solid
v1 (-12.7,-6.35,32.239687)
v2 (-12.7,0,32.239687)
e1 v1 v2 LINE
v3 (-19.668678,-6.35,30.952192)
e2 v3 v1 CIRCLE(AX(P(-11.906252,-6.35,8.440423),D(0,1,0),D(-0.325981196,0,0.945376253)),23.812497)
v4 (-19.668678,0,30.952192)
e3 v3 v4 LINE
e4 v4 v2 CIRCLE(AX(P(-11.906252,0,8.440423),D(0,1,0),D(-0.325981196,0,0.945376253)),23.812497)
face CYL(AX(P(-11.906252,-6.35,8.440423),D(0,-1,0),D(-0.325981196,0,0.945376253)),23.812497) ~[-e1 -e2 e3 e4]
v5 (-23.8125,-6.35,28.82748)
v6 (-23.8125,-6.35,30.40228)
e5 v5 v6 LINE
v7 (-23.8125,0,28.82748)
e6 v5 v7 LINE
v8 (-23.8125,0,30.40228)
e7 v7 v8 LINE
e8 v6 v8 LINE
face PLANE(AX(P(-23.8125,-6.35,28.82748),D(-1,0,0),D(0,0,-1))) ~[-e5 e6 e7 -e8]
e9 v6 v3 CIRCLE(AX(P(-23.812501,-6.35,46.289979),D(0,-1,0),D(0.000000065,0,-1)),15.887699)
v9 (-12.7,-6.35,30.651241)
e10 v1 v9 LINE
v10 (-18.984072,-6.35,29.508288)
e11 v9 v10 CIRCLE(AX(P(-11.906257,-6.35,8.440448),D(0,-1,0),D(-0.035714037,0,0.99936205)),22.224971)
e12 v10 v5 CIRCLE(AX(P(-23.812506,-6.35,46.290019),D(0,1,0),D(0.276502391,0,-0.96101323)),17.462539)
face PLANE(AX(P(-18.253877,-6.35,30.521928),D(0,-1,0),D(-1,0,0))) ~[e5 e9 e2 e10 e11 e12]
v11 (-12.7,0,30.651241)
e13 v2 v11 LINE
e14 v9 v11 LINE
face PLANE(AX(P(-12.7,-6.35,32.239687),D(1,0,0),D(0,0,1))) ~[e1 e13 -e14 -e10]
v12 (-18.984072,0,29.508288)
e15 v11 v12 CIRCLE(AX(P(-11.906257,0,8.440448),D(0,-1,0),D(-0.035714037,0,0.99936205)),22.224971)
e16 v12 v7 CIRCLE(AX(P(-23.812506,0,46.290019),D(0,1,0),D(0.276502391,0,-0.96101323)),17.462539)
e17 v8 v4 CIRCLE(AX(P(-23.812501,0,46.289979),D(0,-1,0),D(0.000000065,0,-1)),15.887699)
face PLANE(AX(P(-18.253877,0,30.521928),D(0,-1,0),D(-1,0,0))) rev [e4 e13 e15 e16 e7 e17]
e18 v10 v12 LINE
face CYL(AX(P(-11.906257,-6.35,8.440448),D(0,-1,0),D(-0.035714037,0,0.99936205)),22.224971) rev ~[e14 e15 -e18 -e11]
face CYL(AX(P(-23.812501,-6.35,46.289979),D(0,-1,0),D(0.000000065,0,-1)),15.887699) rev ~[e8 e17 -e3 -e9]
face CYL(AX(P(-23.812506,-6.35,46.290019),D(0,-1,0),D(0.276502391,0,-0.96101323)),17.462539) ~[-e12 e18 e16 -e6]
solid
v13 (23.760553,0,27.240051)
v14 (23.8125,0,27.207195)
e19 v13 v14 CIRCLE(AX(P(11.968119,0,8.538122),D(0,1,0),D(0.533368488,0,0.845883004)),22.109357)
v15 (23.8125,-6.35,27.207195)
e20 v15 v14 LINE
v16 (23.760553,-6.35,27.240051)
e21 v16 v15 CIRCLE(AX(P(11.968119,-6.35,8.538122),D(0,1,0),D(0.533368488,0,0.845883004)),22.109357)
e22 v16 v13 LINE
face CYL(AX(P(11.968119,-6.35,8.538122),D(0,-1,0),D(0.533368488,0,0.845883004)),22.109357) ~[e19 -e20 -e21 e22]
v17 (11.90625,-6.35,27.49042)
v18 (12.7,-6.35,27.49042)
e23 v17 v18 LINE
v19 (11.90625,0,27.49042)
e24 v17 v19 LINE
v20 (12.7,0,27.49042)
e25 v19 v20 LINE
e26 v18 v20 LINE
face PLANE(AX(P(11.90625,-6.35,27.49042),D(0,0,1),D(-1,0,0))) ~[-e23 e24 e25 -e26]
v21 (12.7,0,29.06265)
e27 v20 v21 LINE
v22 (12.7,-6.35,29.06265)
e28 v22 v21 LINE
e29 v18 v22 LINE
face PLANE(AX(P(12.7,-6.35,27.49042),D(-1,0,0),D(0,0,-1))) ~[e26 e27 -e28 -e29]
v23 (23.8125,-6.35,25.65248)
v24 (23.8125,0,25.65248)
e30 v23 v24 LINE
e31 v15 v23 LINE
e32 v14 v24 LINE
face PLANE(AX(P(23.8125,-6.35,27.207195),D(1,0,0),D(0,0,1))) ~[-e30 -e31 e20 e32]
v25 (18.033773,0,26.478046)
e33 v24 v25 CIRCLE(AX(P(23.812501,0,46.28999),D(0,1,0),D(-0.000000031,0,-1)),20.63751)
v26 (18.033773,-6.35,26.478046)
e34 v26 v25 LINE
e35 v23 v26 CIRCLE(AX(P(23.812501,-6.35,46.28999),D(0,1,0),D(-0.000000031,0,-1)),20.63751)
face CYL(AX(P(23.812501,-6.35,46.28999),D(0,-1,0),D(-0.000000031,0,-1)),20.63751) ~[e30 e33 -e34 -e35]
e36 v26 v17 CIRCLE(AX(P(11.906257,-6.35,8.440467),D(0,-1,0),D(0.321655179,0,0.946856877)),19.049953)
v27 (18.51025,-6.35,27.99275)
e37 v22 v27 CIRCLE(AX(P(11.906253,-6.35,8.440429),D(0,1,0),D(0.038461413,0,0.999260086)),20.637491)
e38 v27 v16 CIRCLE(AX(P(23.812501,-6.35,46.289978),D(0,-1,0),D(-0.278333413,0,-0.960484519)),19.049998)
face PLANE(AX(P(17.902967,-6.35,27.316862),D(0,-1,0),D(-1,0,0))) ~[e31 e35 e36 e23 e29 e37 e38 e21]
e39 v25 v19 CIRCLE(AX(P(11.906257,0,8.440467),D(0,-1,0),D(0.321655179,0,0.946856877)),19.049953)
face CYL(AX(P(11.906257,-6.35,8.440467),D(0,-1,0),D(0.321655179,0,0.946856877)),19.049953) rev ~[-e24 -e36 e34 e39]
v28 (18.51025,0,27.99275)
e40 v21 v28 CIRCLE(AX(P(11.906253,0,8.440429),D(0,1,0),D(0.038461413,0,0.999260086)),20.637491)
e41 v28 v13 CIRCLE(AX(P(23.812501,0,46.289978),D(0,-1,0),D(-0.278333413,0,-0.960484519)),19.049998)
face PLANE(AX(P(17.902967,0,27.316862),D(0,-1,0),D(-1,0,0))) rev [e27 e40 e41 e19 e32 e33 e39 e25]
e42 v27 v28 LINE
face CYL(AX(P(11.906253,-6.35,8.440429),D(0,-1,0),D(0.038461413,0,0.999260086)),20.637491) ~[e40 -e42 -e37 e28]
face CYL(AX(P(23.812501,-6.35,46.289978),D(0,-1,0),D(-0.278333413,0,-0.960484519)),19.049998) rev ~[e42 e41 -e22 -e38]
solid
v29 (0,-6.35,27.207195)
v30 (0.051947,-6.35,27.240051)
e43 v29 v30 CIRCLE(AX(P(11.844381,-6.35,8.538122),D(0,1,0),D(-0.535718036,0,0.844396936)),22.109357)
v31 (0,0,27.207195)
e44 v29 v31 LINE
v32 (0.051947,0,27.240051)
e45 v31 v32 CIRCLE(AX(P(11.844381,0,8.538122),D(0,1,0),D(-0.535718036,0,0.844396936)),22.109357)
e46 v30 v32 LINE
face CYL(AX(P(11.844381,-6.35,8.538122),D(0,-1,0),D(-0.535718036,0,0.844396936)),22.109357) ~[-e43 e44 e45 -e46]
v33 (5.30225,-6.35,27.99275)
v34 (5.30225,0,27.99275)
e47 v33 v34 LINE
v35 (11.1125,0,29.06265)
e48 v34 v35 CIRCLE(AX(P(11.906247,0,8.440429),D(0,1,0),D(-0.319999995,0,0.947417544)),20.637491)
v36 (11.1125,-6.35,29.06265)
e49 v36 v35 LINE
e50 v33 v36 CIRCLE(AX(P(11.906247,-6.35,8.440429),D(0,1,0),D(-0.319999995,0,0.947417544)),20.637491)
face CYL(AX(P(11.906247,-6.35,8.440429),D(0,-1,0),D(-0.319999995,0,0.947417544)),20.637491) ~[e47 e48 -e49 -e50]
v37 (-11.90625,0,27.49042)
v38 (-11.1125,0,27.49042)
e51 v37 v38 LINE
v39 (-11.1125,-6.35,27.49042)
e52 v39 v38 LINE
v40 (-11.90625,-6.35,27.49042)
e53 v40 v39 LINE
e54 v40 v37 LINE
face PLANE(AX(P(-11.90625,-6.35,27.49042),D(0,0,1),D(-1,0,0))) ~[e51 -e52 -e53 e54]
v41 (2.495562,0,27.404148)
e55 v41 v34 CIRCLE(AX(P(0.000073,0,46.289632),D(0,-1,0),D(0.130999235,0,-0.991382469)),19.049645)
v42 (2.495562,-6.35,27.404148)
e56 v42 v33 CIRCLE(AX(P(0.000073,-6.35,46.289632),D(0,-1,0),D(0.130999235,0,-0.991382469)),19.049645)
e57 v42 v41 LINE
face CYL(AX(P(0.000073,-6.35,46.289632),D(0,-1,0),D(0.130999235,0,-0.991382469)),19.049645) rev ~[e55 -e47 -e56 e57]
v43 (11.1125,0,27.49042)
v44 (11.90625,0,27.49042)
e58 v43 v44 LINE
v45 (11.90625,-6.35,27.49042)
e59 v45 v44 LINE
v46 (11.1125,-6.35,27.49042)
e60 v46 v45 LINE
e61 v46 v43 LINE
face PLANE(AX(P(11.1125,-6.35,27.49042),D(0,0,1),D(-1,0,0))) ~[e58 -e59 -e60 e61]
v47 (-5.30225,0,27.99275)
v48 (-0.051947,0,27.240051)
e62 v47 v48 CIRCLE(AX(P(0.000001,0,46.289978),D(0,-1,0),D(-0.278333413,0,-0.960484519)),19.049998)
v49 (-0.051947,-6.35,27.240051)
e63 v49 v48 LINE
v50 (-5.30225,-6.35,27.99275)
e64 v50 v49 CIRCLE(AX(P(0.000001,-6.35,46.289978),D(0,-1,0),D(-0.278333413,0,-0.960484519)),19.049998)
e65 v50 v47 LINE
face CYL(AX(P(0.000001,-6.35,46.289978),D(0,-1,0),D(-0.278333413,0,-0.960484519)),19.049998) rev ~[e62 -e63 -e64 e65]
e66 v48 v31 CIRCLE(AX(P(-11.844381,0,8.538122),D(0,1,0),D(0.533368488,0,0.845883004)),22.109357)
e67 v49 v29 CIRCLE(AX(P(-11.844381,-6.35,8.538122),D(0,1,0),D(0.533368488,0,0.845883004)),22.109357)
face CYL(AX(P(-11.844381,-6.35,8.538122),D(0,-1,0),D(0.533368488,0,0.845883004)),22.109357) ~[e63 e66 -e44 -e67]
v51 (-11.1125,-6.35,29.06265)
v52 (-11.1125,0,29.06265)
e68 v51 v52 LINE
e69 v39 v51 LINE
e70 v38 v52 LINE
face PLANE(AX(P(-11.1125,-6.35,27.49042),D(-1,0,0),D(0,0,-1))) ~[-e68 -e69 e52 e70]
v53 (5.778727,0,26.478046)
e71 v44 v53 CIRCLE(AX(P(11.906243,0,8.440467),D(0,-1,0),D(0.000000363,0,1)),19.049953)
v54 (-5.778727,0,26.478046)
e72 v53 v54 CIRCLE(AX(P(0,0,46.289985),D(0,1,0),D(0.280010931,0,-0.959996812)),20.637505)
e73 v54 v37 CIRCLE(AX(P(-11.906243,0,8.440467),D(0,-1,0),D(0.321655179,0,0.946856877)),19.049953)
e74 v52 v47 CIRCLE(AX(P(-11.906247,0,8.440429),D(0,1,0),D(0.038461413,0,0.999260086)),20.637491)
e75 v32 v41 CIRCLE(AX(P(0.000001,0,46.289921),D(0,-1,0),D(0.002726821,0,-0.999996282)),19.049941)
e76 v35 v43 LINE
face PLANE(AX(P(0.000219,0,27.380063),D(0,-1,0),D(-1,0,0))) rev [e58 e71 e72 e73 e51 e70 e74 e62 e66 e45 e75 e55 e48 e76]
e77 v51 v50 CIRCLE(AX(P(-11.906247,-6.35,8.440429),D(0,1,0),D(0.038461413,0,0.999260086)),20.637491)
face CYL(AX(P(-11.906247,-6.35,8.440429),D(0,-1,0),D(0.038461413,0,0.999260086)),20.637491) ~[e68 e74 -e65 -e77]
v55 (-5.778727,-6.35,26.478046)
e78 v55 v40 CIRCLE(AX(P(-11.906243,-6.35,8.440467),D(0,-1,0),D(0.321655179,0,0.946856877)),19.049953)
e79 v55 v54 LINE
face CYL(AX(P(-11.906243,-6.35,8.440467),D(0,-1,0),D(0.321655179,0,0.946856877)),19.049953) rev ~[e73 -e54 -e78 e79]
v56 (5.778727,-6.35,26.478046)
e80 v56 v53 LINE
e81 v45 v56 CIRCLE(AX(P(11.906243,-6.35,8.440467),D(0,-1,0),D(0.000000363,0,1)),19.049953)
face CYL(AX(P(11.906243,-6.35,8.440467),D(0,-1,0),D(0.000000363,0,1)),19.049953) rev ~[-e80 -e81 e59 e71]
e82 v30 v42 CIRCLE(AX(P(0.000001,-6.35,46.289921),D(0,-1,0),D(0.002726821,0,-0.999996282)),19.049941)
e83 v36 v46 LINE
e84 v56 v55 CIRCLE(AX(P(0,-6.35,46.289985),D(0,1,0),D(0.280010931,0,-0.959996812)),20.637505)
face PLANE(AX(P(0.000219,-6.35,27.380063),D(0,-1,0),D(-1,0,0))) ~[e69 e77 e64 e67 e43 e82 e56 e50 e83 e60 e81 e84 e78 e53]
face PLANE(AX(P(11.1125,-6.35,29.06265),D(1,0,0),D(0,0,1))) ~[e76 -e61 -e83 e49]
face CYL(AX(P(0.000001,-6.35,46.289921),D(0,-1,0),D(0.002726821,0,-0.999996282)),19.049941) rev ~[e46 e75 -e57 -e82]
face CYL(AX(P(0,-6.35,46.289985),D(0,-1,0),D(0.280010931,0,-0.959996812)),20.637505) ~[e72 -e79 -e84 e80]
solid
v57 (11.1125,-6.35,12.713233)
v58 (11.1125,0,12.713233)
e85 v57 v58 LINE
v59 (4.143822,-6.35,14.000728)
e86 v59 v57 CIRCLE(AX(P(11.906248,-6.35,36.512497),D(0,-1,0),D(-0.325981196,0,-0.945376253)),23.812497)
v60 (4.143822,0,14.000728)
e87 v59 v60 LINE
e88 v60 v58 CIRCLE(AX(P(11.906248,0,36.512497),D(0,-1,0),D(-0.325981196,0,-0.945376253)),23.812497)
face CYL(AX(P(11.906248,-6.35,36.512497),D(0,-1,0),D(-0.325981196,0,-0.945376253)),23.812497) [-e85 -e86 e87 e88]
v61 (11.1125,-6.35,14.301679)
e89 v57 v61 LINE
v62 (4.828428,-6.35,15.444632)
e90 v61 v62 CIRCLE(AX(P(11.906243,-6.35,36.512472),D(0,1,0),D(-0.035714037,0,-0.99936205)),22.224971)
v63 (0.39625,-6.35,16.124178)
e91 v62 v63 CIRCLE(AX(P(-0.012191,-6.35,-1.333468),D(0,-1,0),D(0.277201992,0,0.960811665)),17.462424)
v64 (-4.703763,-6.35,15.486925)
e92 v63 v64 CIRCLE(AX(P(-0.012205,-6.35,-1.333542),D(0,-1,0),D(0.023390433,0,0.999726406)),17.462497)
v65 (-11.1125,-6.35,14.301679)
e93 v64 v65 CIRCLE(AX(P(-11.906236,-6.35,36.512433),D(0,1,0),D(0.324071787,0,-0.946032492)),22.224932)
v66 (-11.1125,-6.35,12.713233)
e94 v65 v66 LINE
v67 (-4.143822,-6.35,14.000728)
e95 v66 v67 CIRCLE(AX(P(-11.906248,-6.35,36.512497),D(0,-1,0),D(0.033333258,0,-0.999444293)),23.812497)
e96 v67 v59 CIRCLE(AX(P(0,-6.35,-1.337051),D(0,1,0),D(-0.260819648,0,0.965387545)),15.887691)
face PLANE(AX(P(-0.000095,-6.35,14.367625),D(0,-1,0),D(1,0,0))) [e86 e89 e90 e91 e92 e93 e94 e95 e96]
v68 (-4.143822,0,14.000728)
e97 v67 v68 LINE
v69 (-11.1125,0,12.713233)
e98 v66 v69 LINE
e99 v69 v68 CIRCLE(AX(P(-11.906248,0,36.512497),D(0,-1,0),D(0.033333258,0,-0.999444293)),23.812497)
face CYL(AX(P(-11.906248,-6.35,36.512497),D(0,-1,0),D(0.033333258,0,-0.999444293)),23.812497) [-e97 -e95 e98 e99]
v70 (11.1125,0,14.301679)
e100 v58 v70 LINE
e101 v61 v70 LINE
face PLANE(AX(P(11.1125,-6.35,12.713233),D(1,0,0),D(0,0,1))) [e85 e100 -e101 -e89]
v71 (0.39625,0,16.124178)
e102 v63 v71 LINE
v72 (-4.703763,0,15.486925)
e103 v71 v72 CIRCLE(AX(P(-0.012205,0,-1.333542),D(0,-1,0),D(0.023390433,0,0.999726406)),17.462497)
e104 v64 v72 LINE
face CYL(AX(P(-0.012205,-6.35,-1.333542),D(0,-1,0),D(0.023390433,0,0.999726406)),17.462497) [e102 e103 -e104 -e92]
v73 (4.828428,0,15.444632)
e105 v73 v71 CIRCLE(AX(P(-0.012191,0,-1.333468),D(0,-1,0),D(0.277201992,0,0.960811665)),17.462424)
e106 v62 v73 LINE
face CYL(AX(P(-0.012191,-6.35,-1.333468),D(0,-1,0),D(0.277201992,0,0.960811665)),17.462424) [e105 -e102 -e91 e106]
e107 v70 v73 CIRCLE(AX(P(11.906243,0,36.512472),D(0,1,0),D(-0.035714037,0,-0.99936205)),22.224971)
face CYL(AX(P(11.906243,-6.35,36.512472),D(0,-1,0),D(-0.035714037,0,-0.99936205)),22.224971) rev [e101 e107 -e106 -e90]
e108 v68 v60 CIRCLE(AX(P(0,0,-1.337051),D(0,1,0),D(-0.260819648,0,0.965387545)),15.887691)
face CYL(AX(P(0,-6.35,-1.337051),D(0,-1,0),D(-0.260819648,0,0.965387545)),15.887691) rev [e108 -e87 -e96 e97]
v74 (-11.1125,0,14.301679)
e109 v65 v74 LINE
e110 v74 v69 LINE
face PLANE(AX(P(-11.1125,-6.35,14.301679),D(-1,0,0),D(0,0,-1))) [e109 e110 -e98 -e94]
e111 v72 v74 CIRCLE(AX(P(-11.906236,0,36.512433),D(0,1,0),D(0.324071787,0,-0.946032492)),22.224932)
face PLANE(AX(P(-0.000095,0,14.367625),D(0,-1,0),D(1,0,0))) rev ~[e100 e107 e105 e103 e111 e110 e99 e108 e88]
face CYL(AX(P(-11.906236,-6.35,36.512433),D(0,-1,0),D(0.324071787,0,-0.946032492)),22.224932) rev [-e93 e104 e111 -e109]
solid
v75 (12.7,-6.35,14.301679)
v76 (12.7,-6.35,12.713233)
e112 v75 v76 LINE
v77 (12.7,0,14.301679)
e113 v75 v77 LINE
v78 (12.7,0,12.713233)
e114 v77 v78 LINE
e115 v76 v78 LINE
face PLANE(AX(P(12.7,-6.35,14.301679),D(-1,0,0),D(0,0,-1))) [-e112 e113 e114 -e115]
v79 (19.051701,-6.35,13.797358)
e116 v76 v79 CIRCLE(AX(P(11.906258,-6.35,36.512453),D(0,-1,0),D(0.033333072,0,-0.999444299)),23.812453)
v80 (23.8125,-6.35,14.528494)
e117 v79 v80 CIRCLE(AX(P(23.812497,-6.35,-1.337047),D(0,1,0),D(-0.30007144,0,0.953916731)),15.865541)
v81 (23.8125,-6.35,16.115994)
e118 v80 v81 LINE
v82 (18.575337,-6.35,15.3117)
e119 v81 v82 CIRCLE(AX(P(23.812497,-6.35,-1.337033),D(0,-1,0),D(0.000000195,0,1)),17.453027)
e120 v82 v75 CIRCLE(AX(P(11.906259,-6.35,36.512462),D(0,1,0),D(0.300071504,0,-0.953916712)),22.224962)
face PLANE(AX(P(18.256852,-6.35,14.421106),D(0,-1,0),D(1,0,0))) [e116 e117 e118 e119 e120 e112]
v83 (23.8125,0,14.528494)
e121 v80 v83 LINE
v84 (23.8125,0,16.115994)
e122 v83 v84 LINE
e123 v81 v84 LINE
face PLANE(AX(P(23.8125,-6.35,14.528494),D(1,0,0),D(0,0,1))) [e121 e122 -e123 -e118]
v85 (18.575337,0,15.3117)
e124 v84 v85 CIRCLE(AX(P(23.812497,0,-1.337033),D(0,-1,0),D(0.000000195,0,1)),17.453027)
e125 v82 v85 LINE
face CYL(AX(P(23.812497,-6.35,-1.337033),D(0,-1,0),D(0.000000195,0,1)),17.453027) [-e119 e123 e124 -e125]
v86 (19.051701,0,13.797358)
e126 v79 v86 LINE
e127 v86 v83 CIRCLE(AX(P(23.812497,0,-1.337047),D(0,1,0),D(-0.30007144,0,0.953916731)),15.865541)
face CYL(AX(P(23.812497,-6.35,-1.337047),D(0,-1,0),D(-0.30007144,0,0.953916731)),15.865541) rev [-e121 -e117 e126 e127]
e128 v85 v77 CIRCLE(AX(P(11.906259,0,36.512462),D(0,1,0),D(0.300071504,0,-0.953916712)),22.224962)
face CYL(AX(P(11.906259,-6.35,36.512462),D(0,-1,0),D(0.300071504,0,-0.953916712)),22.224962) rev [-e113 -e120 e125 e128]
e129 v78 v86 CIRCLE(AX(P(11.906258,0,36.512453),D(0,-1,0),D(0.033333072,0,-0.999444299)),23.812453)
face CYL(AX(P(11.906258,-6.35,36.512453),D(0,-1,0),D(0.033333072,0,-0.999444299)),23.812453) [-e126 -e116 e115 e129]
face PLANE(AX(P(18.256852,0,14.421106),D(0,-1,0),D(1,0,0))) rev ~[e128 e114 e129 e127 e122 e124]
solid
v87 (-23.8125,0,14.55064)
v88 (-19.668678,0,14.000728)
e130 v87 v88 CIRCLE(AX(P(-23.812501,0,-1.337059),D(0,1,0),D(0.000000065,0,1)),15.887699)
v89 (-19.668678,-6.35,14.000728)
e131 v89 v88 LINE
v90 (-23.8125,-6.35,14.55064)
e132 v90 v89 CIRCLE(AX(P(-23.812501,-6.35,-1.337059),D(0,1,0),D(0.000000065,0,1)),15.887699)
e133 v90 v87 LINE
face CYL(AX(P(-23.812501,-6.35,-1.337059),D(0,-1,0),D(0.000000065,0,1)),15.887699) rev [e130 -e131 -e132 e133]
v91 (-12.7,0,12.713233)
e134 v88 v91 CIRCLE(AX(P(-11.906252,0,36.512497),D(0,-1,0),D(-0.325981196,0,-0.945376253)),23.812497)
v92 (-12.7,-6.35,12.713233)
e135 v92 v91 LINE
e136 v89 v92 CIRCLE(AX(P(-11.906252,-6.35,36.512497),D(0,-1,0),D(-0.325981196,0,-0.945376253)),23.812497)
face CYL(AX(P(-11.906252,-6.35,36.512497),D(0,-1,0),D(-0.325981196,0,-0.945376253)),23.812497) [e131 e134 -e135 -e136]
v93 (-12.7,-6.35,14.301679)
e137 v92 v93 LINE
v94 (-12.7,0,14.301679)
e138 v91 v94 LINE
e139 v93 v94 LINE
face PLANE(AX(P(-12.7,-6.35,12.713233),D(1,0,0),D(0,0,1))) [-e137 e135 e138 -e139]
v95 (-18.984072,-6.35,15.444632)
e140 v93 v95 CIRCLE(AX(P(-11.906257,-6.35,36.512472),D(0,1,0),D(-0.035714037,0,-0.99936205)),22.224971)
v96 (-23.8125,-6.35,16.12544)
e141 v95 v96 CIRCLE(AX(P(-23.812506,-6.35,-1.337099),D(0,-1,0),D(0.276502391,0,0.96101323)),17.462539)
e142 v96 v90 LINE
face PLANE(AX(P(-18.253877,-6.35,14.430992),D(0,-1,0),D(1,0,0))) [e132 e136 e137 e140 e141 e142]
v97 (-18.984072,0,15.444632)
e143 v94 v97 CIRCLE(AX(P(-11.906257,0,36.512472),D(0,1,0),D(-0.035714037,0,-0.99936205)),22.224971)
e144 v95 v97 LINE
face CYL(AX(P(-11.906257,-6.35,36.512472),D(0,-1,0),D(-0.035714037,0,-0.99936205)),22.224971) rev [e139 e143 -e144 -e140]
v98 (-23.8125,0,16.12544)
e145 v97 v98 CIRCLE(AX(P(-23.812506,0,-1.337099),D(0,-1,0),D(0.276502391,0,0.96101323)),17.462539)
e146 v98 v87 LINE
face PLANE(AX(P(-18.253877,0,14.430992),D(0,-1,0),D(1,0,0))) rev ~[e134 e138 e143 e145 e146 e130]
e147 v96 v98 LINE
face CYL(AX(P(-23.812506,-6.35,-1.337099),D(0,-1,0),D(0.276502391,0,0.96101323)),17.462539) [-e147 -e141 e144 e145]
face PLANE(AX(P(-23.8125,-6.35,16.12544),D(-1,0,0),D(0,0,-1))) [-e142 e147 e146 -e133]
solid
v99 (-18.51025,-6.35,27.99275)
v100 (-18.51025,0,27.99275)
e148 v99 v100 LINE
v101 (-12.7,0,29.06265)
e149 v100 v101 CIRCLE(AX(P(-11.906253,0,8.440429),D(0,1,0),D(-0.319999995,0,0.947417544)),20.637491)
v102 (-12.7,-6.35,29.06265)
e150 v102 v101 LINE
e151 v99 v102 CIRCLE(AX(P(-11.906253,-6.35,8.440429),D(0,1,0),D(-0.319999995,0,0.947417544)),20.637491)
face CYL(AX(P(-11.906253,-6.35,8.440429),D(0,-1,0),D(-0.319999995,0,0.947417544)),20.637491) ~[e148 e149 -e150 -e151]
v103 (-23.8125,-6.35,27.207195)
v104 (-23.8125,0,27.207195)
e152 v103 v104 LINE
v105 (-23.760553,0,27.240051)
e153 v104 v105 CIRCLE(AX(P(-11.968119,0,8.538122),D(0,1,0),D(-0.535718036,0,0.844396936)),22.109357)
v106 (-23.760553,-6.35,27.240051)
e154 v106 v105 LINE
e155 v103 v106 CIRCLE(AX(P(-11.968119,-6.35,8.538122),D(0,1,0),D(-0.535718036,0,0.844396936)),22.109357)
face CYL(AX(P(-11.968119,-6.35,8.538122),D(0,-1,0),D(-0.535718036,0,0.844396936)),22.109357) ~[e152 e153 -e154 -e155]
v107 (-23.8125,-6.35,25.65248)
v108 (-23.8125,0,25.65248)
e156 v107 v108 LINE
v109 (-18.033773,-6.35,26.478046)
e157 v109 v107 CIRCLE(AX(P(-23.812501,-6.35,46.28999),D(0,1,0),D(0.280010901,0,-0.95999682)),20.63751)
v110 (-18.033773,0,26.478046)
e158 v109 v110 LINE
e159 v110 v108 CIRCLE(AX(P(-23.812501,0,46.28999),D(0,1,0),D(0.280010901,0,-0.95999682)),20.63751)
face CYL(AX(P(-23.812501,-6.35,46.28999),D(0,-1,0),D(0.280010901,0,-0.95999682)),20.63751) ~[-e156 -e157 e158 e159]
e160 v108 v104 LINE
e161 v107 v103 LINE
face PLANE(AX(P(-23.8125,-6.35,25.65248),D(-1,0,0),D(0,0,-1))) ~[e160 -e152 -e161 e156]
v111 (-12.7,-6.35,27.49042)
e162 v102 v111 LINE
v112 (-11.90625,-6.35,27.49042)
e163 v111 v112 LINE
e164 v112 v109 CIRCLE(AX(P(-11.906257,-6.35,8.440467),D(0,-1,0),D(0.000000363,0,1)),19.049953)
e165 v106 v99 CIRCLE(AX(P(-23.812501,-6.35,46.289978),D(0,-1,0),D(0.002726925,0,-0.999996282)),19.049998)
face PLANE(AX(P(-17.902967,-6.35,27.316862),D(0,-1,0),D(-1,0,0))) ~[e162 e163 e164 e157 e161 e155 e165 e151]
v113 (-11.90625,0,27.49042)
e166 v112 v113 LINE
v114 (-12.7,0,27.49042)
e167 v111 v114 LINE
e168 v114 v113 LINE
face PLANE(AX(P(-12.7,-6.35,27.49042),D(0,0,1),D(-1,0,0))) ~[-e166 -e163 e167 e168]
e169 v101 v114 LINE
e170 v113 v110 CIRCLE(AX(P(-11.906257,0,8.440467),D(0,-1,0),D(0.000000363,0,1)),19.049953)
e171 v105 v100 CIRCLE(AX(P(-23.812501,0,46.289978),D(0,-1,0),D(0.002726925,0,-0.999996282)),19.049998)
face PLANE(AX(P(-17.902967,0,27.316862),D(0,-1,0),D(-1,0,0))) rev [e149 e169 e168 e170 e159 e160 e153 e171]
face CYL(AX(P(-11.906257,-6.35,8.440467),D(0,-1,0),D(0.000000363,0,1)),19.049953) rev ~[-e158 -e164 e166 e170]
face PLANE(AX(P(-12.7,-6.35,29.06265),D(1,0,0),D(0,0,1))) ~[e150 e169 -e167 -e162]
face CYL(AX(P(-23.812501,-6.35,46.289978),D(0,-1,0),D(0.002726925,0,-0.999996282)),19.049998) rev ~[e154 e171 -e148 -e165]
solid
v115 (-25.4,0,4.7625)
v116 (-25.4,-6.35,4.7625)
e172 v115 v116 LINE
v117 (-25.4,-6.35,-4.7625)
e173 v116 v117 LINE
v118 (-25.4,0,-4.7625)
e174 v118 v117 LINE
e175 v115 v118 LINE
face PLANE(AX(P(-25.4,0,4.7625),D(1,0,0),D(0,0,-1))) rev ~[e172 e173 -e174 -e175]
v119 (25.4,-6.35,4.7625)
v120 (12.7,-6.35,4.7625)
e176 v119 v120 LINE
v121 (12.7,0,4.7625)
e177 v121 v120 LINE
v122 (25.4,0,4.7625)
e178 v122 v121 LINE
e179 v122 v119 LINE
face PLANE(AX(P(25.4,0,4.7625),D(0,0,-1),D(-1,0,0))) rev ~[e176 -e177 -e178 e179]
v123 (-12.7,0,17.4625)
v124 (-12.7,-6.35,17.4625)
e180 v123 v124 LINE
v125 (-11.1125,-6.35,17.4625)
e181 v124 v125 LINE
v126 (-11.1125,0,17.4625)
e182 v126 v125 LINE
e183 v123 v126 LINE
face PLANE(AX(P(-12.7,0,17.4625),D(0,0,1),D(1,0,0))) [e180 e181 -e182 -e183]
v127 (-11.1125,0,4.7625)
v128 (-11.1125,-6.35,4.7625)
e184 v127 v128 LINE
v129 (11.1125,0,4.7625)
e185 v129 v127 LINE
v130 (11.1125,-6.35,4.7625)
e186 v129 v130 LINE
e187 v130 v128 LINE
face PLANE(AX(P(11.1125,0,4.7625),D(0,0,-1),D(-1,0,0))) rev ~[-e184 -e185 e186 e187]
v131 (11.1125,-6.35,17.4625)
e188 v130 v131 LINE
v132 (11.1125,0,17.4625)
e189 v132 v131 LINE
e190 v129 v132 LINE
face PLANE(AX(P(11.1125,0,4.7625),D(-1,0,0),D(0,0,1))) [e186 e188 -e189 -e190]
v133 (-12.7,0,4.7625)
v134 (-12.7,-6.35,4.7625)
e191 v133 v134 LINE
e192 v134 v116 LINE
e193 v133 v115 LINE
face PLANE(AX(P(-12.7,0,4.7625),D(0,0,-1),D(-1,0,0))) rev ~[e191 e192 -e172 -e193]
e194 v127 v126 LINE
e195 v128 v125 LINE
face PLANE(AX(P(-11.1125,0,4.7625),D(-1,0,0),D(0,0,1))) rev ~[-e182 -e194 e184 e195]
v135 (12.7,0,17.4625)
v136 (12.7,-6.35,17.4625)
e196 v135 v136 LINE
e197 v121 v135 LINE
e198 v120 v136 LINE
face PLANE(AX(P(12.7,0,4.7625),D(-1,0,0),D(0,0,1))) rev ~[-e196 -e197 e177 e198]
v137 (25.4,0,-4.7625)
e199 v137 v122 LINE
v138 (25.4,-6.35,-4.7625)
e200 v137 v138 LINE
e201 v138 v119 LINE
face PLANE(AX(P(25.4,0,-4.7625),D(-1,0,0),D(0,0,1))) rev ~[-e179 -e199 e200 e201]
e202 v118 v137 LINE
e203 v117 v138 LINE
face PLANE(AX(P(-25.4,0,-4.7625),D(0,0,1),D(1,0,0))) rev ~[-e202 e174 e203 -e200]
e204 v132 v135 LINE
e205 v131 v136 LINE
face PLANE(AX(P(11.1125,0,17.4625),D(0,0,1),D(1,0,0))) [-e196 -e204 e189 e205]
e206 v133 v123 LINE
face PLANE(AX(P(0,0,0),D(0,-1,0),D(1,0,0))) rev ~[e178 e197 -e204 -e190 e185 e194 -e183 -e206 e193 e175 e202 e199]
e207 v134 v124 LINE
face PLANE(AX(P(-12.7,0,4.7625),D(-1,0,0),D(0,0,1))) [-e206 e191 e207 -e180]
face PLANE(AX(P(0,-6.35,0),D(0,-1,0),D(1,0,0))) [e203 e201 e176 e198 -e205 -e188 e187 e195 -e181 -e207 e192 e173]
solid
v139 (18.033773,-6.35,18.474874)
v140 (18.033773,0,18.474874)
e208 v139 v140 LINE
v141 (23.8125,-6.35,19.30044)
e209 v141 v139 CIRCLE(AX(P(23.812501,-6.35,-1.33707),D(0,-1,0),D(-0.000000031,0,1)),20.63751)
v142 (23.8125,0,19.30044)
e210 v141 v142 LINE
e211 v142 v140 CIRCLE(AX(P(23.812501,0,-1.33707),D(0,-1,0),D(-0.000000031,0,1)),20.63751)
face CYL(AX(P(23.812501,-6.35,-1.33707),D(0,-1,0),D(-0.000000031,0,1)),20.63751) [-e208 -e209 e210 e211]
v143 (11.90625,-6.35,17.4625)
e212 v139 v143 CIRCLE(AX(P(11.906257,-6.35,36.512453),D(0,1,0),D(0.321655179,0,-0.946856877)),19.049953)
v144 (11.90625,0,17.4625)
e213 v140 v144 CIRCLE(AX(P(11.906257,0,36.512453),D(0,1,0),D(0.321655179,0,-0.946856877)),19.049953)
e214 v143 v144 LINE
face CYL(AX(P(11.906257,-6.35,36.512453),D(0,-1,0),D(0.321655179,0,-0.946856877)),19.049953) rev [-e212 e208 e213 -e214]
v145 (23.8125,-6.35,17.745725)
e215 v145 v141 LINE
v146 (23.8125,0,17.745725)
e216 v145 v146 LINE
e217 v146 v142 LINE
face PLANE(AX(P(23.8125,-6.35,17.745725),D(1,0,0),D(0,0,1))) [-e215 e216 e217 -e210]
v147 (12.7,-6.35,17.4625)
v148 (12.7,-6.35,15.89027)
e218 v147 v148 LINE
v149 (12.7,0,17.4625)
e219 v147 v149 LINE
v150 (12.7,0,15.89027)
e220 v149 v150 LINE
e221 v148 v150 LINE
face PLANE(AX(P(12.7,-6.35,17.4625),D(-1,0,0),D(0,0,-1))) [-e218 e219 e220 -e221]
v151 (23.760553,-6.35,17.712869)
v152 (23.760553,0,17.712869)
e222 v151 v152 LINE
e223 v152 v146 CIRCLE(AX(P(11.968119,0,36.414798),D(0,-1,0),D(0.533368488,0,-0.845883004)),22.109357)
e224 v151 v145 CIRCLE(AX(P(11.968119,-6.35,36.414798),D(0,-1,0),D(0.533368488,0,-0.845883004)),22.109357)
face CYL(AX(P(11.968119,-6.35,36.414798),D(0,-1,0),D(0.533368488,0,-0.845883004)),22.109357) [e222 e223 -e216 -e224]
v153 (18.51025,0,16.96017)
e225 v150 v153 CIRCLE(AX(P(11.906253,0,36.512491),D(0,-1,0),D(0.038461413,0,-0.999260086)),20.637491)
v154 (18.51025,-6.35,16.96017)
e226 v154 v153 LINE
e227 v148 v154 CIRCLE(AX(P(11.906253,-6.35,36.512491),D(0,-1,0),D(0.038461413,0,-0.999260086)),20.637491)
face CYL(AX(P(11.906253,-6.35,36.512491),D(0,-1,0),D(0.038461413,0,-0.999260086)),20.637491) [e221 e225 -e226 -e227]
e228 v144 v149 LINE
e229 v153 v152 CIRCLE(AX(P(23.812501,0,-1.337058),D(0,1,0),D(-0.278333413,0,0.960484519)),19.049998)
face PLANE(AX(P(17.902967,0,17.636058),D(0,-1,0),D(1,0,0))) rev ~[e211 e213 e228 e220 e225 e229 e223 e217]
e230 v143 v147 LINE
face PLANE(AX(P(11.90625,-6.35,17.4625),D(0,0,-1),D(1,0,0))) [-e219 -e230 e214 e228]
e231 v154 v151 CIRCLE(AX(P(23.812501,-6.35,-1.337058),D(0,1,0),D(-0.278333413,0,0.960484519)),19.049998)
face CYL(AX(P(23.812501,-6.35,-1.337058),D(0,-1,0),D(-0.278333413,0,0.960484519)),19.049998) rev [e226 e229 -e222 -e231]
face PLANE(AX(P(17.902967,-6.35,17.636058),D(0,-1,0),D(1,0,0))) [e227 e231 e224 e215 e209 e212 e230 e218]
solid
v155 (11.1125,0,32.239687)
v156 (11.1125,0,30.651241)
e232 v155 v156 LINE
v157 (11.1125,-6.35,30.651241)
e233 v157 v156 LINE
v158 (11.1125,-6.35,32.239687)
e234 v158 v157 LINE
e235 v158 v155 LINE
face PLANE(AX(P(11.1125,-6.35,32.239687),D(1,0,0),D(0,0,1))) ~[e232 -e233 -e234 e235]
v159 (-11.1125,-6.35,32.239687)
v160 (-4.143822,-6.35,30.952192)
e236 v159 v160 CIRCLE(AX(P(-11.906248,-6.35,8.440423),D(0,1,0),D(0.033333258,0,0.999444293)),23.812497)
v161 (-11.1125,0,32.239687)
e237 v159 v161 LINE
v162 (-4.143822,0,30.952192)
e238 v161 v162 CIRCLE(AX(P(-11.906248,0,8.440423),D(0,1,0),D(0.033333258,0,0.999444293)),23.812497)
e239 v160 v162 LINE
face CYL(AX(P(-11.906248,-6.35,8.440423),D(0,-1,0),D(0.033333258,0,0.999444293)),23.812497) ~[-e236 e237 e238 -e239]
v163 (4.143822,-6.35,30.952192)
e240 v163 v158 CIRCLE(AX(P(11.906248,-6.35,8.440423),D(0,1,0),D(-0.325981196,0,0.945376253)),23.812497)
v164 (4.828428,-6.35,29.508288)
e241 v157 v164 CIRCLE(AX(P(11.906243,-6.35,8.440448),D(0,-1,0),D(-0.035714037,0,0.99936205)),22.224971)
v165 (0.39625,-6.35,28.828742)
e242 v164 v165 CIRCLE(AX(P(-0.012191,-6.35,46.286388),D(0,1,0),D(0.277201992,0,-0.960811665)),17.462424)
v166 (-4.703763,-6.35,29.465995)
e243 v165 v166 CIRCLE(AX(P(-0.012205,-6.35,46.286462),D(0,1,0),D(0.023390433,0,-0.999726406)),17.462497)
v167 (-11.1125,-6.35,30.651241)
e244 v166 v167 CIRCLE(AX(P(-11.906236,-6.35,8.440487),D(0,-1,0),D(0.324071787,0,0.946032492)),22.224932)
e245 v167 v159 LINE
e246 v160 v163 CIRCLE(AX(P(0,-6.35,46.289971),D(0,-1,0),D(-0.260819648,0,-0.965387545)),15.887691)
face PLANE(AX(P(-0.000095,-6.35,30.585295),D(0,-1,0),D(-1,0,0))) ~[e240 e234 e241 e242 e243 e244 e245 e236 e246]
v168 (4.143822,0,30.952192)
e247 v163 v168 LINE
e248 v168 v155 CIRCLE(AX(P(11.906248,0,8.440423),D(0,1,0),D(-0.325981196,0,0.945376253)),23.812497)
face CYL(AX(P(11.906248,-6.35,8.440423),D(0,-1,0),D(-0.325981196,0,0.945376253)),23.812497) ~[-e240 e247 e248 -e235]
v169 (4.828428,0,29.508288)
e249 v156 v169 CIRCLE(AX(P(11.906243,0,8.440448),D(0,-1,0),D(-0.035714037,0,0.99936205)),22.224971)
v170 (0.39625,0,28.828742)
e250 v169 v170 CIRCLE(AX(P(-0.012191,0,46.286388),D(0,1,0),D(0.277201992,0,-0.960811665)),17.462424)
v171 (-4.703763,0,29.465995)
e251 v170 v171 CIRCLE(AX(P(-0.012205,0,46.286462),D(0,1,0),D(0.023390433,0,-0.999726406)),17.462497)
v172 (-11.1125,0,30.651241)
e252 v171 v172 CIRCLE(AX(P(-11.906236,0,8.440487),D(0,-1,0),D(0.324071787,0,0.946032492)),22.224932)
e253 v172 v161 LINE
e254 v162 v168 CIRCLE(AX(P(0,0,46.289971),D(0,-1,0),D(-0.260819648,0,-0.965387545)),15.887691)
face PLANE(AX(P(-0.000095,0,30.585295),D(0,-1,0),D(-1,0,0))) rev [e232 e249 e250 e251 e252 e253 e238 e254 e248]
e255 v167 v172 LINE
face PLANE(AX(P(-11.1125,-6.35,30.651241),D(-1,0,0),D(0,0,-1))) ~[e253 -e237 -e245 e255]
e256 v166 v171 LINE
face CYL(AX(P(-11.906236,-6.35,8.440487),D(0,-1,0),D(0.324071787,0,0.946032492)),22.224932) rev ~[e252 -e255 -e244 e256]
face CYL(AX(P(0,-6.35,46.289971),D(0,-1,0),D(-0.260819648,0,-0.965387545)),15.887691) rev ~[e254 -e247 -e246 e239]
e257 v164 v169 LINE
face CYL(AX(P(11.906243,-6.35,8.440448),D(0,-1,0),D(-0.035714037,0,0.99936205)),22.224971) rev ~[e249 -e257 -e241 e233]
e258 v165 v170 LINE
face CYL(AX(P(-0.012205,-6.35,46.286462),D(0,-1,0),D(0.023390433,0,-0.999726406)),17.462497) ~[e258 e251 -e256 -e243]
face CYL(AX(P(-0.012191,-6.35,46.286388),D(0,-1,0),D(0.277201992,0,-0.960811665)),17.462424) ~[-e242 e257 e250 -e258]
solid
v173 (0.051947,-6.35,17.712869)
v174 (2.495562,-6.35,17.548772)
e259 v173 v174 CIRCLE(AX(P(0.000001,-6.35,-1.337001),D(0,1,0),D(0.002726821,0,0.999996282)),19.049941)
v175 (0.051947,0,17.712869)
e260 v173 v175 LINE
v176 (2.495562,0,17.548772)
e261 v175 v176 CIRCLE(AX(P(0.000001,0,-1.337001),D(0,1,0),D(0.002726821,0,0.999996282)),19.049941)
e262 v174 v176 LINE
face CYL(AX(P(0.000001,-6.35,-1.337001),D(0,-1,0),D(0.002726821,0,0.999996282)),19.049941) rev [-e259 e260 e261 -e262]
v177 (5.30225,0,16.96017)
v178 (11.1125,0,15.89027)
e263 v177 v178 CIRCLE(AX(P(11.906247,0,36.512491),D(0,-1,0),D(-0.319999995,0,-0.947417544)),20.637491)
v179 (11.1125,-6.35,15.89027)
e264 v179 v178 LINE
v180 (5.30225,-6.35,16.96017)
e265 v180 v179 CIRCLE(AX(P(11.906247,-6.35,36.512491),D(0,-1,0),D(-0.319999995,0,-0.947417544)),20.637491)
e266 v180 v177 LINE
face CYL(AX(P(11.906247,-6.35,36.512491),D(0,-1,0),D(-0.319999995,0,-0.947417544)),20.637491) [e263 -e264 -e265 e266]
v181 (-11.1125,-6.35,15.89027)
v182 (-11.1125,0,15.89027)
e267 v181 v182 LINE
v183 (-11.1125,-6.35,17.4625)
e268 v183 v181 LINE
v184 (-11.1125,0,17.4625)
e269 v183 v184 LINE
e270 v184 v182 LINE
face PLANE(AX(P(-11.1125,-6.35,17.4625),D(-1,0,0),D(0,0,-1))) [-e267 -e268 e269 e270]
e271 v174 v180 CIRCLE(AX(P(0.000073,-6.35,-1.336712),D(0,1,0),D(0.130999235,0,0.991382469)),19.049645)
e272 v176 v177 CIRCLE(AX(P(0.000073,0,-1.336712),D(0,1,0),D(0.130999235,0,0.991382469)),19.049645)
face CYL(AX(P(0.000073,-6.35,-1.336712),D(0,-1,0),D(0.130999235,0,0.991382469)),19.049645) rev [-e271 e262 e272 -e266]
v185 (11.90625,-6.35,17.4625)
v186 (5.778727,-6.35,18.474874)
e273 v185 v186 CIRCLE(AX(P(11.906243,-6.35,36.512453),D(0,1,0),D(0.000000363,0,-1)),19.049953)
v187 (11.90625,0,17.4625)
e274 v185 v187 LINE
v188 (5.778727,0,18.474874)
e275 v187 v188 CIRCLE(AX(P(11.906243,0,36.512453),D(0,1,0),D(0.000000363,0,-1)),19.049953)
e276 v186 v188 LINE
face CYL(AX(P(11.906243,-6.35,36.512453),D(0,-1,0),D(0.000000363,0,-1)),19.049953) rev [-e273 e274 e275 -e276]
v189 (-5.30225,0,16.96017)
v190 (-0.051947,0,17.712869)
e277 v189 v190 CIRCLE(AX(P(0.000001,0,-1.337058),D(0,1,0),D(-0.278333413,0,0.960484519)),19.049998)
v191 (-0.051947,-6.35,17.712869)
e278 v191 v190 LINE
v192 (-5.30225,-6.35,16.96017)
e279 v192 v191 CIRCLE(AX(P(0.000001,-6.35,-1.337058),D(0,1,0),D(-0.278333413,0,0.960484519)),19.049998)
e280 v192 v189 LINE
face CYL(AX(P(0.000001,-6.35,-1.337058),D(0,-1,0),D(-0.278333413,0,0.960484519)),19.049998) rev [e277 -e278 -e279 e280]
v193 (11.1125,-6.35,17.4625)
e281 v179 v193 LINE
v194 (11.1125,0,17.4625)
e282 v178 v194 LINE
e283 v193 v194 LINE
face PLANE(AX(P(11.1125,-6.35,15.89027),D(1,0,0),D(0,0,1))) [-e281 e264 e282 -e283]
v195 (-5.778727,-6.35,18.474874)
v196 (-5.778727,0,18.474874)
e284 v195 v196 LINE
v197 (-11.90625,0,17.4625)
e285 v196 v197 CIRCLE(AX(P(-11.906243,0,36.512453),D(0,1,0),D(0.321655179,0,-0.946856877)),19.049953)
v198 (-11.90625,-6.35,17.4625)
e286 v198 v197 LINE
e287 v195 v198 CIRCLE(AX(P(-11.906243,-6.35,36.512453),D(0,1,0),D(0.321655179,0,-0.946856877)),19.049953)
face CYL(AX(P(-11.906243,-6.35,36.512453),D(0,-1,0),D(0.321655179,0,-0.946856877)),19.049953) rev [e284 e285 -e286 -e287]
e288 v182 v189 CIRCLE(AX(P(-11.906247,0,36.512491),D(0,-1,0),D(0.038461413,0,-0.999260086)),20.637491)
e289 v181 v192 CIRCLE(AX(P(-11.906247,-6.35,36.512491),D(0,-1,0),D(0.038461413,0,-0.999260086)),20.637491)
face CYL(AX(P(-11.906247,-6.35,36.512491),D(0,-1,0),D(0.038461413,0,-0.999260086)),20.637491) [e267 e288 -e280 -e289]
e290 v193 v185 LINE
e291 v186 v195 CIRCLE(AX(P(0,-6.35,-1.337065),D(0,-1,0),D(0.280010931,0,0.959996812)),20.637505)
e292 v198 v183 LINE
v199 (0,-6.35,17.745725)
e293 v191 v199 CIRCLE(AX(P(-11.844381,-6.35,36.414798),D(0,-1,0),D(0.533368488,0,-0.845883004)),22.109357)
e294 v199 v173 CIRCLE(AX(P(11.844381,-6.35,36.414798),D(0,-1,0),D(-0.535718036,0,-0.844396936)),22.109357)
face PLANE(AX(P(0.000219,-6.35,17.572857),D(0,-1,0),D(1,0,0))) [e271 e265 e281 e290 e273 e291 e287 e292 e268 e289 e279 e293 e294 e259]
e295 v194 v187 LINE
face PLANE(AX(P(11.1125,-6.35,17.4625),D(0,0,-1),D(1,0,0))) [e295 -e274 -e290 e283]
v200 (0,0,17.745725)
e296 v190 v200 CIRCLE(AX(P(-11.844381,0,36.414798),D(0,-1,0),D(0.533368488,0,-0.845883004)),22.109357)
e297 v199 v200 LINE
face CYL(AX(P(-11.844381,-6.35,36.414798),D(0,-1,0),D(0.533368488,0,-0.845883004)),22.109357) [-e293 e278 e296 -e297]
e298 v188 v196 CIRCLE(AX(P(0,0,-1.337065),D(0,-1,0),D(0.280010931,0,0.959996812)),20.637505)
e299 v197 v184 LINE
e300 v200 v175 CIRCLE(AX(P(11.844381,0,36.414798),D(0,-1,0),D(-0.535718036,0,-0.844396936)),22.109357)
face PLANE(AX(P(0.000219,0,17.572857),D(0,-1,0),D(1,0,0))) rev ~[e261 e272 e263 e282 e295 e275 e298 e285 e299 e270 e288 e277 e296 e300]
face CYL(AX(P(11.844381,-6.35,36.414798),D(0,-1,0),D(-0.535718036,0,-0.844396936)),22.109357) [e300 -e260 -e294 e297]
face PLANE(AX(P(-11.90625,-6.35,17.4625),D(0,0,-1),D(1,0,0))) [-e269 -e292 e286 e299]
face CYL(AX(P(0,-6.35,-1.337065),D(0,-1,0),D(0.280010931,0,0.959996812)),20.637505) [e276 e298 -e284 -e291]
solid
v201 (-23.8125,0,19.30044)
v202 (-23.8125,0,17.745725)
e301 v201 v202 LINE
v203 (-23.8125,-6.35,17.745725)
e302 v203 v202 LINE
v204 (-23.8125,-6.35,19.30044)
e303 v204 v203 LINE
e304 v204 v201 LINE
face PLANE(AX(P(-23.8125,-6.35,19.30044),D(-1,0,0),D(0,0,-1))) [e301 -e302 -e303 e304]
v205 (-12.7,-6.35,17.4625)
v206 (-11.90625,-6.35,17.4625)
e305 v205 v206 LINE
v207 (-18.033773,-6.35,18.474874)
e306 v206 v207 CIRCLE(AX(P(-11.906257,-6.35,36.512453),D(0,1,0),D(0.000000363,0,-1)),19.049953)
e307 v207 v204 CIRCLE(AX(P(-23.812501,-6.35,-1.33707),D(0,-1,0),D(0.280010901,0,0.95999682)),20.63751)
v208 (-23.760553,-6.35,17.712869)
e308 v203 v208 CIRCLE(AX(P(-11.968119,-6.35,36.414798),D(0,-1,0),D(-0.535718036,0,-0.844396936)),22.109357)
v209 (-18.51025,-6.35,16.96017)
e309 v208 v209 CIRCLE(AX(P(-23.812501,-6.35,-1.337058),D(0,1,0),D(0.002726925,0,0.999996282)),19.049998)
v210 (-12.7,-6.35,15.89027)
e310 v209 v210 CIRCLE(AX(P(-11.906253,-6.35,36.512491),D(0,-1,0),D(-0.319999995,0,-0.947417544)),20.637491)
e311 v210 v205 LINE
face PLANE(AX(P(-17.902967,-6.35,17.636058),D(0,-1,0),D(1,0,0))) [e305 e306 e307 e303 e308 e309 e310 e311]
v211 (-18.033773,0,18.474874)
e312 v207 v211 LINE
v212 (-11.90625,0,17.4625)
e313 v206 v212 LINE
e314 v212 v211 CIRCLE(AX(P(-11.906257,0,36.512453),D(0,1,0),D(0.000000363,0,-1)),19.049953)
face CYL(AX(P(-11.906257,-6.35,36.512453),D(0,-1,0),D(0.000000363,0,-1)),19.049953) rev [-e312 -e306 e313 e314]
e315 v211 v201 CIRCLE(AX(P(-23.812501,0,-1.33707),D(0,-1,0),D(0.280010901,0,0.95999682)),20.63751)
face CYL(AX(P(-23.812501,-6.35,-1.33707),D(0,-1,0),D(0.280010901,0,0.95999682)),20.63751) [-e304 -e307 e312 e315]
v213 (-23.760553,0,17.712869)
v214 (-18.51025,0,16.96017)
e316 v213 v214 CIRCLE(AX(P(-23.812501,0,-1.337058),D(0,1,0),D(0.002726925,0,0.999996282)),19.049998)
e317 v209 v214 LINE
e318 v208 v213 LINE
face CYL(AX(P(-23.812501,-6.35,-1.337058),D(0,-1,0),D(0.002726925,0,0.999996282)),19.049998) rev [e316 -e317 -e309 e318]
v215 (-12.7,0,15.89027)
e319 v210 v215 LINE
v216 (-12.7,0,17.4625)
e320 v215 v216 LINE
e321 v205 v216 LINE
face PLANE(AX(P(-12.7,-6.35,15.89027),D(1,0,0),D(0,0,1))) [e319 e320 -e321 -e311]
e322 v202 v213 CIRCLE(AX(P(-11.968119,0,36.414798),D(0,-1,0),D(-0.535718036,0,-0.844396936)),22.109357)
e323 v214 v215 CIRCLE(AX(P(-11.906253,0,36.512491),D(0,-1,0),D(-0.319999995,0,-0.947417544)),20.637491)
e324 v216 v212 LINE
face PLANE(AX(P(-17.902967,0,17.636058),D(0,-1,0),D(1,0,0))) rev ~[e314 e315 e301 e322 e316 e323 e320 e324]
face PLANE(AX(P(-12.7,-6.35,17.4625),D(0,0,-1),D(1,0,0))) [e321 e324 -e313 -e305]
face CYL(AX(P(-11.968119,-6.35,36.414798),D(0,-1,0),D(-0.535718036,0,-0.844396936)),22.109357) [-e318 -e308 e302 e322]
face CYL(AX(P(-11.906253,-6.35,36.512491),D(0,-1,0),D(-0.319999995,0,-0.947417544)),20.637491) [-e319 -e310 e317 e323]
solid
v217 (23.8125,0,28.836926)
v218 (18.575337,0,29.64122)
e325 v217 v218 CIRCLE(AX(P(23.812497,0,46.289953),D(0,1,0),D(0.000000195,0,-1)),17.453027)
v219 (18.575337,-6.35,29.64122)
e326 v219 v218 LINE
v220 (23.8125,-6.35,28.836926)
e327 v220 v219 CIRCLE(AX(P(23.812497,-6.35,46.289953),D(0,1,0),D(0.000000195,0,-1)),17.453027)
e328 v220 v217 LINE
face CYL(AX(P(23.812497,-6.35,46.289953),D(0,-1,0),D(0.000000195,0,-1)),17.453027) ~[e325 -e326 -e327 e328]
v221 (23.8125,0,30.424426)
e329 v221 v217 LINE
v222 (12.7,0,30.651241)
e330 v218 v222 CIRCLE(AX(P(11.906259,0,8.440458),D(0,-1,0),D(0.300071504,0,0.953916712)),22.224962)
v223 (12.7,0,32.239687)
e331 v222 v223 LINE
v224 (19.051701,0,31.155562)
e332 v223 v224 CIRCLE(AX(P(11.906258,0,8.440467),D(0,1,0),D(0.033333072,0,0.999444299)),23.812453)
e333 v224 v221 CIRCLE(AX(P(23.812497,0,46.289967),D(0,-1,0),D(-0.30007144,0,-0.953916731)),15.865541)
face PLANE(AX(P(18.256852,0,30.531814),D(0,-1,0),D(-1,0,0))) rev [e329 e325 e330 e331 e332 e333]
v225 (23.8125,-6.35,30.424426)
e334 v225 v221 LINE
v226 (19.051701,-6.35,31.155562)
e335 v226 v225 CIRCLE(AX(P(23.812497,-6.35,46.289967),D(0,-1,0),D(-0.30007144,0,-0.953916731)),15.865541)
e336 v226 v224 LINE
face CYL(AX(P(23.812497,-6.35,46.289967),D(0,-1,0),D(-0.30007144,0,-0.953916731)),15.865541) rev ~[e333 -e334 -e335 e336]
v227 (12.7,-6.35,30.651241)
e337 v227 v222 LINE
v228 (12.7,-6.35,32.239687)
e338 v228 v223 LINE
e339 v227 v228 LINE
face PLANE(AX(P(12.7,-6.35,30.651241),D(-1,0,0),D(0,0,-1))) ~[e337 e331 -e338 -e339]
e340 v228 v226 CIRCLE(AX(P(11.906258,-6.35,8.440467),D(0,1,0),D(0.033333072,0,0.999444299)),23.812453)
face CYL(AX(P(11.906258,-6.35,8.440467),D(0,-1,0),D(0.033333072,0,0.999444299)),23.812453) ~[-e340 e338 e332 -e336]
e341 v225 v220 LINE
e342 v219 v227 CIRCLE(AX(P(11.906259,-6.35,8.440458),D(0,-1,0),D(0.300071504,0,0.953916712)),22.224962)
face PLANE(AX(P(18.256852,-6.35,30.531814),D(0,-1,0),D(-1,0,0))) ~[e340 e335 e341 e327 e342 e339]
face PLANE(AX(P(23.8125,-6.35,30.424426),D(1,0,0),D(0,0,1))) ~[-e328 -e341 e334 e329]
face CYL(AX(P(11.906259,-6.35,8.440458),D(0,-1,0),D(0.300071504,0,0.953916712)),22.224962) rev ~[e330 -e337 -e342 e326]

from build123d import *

# Parameters (mm, degrees)
F0_W     = 1.5875
F0_H     = 12.7
F1_DEPTH = 6.35
F3_DEPTH = 6.35


with BuildPart() as f1:
    # F0 (on Front) → F1 (new body)
    with BuildSketch(Plane.XZ):
        Polygon((-25.4, -4.7625), (25.4, -4.7625), (25.4, 4.7625), (12.7, 4.7625), (11.1125, 4.7625), (-11.1125, 4.7625), (-12.7, 4.7625), (-25.4, 4.7625), align=None)
        with Locations((11.90625, 11.1125)):
            Rectangle(F0_W, F0_H)
        with Locations((-11.90625, 11.1125)):
            Rectangle(F0_W, F0_H)
    extrude(amount=F1_DEPTH)


with BuildPart() as f3:
    # F2 (on face) → F3 (new body)
    with BuildSketch(Plane.XZ.offset(6.35)):
        with BuildLine():
            ThreePointArc((-11.90625, 17.4625), (-15.011546, 17.717297), (-18.033773, 18.474874))
            ThreePointArc((-18.033773, 18.474874), (-20.8938, 19.093006), (-23.8125, 19.30044))
            Line((-23.8125, 19.30044), (-23.8125, 17.745725))
            ThreePointArc((-23.8125, 17.745725), (-23.786538, 17.729279), (-23.760553, 17.712869))
            ThreePointArc((-23.760553, 17.712869), (-21.109077, 17.52014), (-18.51025, 16.96017))
            ThreePointArc((-18.51025, 16.96017), (-15.643608, 16.21623), (-12.7, 15.89027))
            Line((-12.7, 15.89027), (-12.7, 17.4625))
            Line((-12.7, 17.4625), (-11.90625, 17.4625))
        make_face()
        with BuildLine():
            Line((-12.7, 12.713233), (-12.7, 14.301679))
            ThreePointArc((-12.7, 14.301679), (-15.883309, 14.646233), (-18.984072, 15.444632))
            ThreePointArc((-18.984072, 15.444632), (-21.374406, 15.9544), (-23.8125, 16.12544))
            Line((-23.8125, 16.12544), (-23.8125, 14.55064))
            ThreePointArc((-23.8125, 14.55064), (-21.722425, 14.412562), (-19.668678, 14.000728))
            ThreePointArc((-19.668678, 14.000728), (-16.232502, 13.096294), (-12.7, 12.713233))
        make_face()
        with BuildLine():
            ThreePointArc((-5.778727, 18.474874), (-8.800954, 17.717297), (-11.90625, 17.4625))
            Line((-11.90625, 17.4625), (-11.1125, 17.4625))
            Line((-11.1125, 17.4625), (-11.1125, 15.89027))
            ThreePointArc((-11.1125, 15.89027), (-8.168892, 16.21623), (-5.30225, 16.96017))
            ThreePointArc((-5.30225, 16.96017), (-2.703423, 17.52014), (-0.051947, 17.712869))
            ThreePointArc((-0.051947, 17.712869), (-0.025962, 17.729279), (0, 17.745725))
            ThreePointArc((0, 17.745725), (0.025962, 17.729279), (0.051947, 17.712869))
            ThreePointArc((0.051947, 17.712869), (1.276394, 17.670131), (2.495562, 17.548772))
            ThreePointArc((2.495562, 17.548772), (3.909998, 17.307361), (5.30225, 16.96017))
            ThreePointArc((5.30225, 16.96017), (8.168892, 16.21623), (11.1125, 15.89027))
            Line((11.1125, 15.89027), (11.1125, 17.4625))
            Line((11.1125, 17.4625), (11.90625, 17.4625))
            ThreePointArc((11.90625, 17.4625), (8.800954, 17.717297), (5.778727, 18.474874))
            ThreePointArc((5.778727, 18.474874), (0, 19.30044), (-5.778727, 18.474874))
        make_face()
        with BuildLine():
            ThreePointArc((-4.703763, 15.486925), (-7.864449, 14.658107), (-11.1125, 14.301679))
            Line((-11.1125, 14.301679), (-11.1125, 12.713233))
            ThreePointArc((-11.1125, 12.713233), (-7.579998, 13.096294), (-4.143822, 14.000728))
            ThreePointArc((-4.143822, 14.000728), (0, 14.55064), (4.143822, 14.000728))
            ThreePointArc((4.143822, 14.000728), (7.579998, 13.096294), (11.1125, 12.713233))
            Line((11.1125, 12.713233), (11.1125, 14.301679))
            ThreePointArc((11.1125, 14.301679), (7.929191, 14.646233), (4.828428, 15.444632))
            ThreePointArc((4.828428, 15.444632), (2.634241, 15.927257), (0.39625, 16.124178))
            ThreePointArc((0.39625, 16.124178), (-2.17733, 15.994212), (-4.703763, 15.486925))
        make_face()
        with BuildLine():
            ThreePointArc((18.033773, 18.474874), (15.011546, 17.717297), (11.90625, 17.4625))
            Line((11.90625, 17.4625), (12.7, 17.4625))
            Line((12.7, 17.4625), (12.7, 15.89027))
            ThreePointArc((12.7, 15.89027), (15.643608, 16.21623), (18.51025, 16.96017))
            ThreePointArc((18.51025, 16.96017), (21.109077, 17.52014), (23.760553, 17.712869))
            ThreePointArc((23.760553, 17.712869), (23.786538, 17.729279), (23.8125, 17.745725))
            Line((23.8125, 17.745725), (23.8125, 19.30044))
            ThreePointArc((23.8125, 19.30044), (20.8938, 19.093006), (18.033773, 18.474874))
        make_face()
        with BuildLine():
            ThreePointArc((18.575337, 15.3117), (15.671688, 14.608799), (12.7, 14.301679))
            Line((12.7, 14.301679), (12.7, 12.713233))
            ThreePointArc((12.7, 12.713233), (15.91269, 13.03946), (19.051701, 13.797358))
            ThreePointArc((19.051701, 13.797358), (21.404193, 14.344645), (23.8125, 14.528494))
            Line((23.8125, 14.528494), (23.8125, 16.115994))
            ThreePointArc((23.8125, 16.115994), (21.163219, 15.913749), (18.575337, 15.3117))
        make_face()
    extrude(amount=-F3_DEPTH)


with BuildPart() as f5_1:
    # F5: instance of F3
    add(f3.part.mirror(Plane(origin=(0, -3.175, 22.47646), x_dir=(1, 0, 0), z_dir=(0, 0, -1))))


solid = Compound([f1.part, f3.part, f5_1.part])
